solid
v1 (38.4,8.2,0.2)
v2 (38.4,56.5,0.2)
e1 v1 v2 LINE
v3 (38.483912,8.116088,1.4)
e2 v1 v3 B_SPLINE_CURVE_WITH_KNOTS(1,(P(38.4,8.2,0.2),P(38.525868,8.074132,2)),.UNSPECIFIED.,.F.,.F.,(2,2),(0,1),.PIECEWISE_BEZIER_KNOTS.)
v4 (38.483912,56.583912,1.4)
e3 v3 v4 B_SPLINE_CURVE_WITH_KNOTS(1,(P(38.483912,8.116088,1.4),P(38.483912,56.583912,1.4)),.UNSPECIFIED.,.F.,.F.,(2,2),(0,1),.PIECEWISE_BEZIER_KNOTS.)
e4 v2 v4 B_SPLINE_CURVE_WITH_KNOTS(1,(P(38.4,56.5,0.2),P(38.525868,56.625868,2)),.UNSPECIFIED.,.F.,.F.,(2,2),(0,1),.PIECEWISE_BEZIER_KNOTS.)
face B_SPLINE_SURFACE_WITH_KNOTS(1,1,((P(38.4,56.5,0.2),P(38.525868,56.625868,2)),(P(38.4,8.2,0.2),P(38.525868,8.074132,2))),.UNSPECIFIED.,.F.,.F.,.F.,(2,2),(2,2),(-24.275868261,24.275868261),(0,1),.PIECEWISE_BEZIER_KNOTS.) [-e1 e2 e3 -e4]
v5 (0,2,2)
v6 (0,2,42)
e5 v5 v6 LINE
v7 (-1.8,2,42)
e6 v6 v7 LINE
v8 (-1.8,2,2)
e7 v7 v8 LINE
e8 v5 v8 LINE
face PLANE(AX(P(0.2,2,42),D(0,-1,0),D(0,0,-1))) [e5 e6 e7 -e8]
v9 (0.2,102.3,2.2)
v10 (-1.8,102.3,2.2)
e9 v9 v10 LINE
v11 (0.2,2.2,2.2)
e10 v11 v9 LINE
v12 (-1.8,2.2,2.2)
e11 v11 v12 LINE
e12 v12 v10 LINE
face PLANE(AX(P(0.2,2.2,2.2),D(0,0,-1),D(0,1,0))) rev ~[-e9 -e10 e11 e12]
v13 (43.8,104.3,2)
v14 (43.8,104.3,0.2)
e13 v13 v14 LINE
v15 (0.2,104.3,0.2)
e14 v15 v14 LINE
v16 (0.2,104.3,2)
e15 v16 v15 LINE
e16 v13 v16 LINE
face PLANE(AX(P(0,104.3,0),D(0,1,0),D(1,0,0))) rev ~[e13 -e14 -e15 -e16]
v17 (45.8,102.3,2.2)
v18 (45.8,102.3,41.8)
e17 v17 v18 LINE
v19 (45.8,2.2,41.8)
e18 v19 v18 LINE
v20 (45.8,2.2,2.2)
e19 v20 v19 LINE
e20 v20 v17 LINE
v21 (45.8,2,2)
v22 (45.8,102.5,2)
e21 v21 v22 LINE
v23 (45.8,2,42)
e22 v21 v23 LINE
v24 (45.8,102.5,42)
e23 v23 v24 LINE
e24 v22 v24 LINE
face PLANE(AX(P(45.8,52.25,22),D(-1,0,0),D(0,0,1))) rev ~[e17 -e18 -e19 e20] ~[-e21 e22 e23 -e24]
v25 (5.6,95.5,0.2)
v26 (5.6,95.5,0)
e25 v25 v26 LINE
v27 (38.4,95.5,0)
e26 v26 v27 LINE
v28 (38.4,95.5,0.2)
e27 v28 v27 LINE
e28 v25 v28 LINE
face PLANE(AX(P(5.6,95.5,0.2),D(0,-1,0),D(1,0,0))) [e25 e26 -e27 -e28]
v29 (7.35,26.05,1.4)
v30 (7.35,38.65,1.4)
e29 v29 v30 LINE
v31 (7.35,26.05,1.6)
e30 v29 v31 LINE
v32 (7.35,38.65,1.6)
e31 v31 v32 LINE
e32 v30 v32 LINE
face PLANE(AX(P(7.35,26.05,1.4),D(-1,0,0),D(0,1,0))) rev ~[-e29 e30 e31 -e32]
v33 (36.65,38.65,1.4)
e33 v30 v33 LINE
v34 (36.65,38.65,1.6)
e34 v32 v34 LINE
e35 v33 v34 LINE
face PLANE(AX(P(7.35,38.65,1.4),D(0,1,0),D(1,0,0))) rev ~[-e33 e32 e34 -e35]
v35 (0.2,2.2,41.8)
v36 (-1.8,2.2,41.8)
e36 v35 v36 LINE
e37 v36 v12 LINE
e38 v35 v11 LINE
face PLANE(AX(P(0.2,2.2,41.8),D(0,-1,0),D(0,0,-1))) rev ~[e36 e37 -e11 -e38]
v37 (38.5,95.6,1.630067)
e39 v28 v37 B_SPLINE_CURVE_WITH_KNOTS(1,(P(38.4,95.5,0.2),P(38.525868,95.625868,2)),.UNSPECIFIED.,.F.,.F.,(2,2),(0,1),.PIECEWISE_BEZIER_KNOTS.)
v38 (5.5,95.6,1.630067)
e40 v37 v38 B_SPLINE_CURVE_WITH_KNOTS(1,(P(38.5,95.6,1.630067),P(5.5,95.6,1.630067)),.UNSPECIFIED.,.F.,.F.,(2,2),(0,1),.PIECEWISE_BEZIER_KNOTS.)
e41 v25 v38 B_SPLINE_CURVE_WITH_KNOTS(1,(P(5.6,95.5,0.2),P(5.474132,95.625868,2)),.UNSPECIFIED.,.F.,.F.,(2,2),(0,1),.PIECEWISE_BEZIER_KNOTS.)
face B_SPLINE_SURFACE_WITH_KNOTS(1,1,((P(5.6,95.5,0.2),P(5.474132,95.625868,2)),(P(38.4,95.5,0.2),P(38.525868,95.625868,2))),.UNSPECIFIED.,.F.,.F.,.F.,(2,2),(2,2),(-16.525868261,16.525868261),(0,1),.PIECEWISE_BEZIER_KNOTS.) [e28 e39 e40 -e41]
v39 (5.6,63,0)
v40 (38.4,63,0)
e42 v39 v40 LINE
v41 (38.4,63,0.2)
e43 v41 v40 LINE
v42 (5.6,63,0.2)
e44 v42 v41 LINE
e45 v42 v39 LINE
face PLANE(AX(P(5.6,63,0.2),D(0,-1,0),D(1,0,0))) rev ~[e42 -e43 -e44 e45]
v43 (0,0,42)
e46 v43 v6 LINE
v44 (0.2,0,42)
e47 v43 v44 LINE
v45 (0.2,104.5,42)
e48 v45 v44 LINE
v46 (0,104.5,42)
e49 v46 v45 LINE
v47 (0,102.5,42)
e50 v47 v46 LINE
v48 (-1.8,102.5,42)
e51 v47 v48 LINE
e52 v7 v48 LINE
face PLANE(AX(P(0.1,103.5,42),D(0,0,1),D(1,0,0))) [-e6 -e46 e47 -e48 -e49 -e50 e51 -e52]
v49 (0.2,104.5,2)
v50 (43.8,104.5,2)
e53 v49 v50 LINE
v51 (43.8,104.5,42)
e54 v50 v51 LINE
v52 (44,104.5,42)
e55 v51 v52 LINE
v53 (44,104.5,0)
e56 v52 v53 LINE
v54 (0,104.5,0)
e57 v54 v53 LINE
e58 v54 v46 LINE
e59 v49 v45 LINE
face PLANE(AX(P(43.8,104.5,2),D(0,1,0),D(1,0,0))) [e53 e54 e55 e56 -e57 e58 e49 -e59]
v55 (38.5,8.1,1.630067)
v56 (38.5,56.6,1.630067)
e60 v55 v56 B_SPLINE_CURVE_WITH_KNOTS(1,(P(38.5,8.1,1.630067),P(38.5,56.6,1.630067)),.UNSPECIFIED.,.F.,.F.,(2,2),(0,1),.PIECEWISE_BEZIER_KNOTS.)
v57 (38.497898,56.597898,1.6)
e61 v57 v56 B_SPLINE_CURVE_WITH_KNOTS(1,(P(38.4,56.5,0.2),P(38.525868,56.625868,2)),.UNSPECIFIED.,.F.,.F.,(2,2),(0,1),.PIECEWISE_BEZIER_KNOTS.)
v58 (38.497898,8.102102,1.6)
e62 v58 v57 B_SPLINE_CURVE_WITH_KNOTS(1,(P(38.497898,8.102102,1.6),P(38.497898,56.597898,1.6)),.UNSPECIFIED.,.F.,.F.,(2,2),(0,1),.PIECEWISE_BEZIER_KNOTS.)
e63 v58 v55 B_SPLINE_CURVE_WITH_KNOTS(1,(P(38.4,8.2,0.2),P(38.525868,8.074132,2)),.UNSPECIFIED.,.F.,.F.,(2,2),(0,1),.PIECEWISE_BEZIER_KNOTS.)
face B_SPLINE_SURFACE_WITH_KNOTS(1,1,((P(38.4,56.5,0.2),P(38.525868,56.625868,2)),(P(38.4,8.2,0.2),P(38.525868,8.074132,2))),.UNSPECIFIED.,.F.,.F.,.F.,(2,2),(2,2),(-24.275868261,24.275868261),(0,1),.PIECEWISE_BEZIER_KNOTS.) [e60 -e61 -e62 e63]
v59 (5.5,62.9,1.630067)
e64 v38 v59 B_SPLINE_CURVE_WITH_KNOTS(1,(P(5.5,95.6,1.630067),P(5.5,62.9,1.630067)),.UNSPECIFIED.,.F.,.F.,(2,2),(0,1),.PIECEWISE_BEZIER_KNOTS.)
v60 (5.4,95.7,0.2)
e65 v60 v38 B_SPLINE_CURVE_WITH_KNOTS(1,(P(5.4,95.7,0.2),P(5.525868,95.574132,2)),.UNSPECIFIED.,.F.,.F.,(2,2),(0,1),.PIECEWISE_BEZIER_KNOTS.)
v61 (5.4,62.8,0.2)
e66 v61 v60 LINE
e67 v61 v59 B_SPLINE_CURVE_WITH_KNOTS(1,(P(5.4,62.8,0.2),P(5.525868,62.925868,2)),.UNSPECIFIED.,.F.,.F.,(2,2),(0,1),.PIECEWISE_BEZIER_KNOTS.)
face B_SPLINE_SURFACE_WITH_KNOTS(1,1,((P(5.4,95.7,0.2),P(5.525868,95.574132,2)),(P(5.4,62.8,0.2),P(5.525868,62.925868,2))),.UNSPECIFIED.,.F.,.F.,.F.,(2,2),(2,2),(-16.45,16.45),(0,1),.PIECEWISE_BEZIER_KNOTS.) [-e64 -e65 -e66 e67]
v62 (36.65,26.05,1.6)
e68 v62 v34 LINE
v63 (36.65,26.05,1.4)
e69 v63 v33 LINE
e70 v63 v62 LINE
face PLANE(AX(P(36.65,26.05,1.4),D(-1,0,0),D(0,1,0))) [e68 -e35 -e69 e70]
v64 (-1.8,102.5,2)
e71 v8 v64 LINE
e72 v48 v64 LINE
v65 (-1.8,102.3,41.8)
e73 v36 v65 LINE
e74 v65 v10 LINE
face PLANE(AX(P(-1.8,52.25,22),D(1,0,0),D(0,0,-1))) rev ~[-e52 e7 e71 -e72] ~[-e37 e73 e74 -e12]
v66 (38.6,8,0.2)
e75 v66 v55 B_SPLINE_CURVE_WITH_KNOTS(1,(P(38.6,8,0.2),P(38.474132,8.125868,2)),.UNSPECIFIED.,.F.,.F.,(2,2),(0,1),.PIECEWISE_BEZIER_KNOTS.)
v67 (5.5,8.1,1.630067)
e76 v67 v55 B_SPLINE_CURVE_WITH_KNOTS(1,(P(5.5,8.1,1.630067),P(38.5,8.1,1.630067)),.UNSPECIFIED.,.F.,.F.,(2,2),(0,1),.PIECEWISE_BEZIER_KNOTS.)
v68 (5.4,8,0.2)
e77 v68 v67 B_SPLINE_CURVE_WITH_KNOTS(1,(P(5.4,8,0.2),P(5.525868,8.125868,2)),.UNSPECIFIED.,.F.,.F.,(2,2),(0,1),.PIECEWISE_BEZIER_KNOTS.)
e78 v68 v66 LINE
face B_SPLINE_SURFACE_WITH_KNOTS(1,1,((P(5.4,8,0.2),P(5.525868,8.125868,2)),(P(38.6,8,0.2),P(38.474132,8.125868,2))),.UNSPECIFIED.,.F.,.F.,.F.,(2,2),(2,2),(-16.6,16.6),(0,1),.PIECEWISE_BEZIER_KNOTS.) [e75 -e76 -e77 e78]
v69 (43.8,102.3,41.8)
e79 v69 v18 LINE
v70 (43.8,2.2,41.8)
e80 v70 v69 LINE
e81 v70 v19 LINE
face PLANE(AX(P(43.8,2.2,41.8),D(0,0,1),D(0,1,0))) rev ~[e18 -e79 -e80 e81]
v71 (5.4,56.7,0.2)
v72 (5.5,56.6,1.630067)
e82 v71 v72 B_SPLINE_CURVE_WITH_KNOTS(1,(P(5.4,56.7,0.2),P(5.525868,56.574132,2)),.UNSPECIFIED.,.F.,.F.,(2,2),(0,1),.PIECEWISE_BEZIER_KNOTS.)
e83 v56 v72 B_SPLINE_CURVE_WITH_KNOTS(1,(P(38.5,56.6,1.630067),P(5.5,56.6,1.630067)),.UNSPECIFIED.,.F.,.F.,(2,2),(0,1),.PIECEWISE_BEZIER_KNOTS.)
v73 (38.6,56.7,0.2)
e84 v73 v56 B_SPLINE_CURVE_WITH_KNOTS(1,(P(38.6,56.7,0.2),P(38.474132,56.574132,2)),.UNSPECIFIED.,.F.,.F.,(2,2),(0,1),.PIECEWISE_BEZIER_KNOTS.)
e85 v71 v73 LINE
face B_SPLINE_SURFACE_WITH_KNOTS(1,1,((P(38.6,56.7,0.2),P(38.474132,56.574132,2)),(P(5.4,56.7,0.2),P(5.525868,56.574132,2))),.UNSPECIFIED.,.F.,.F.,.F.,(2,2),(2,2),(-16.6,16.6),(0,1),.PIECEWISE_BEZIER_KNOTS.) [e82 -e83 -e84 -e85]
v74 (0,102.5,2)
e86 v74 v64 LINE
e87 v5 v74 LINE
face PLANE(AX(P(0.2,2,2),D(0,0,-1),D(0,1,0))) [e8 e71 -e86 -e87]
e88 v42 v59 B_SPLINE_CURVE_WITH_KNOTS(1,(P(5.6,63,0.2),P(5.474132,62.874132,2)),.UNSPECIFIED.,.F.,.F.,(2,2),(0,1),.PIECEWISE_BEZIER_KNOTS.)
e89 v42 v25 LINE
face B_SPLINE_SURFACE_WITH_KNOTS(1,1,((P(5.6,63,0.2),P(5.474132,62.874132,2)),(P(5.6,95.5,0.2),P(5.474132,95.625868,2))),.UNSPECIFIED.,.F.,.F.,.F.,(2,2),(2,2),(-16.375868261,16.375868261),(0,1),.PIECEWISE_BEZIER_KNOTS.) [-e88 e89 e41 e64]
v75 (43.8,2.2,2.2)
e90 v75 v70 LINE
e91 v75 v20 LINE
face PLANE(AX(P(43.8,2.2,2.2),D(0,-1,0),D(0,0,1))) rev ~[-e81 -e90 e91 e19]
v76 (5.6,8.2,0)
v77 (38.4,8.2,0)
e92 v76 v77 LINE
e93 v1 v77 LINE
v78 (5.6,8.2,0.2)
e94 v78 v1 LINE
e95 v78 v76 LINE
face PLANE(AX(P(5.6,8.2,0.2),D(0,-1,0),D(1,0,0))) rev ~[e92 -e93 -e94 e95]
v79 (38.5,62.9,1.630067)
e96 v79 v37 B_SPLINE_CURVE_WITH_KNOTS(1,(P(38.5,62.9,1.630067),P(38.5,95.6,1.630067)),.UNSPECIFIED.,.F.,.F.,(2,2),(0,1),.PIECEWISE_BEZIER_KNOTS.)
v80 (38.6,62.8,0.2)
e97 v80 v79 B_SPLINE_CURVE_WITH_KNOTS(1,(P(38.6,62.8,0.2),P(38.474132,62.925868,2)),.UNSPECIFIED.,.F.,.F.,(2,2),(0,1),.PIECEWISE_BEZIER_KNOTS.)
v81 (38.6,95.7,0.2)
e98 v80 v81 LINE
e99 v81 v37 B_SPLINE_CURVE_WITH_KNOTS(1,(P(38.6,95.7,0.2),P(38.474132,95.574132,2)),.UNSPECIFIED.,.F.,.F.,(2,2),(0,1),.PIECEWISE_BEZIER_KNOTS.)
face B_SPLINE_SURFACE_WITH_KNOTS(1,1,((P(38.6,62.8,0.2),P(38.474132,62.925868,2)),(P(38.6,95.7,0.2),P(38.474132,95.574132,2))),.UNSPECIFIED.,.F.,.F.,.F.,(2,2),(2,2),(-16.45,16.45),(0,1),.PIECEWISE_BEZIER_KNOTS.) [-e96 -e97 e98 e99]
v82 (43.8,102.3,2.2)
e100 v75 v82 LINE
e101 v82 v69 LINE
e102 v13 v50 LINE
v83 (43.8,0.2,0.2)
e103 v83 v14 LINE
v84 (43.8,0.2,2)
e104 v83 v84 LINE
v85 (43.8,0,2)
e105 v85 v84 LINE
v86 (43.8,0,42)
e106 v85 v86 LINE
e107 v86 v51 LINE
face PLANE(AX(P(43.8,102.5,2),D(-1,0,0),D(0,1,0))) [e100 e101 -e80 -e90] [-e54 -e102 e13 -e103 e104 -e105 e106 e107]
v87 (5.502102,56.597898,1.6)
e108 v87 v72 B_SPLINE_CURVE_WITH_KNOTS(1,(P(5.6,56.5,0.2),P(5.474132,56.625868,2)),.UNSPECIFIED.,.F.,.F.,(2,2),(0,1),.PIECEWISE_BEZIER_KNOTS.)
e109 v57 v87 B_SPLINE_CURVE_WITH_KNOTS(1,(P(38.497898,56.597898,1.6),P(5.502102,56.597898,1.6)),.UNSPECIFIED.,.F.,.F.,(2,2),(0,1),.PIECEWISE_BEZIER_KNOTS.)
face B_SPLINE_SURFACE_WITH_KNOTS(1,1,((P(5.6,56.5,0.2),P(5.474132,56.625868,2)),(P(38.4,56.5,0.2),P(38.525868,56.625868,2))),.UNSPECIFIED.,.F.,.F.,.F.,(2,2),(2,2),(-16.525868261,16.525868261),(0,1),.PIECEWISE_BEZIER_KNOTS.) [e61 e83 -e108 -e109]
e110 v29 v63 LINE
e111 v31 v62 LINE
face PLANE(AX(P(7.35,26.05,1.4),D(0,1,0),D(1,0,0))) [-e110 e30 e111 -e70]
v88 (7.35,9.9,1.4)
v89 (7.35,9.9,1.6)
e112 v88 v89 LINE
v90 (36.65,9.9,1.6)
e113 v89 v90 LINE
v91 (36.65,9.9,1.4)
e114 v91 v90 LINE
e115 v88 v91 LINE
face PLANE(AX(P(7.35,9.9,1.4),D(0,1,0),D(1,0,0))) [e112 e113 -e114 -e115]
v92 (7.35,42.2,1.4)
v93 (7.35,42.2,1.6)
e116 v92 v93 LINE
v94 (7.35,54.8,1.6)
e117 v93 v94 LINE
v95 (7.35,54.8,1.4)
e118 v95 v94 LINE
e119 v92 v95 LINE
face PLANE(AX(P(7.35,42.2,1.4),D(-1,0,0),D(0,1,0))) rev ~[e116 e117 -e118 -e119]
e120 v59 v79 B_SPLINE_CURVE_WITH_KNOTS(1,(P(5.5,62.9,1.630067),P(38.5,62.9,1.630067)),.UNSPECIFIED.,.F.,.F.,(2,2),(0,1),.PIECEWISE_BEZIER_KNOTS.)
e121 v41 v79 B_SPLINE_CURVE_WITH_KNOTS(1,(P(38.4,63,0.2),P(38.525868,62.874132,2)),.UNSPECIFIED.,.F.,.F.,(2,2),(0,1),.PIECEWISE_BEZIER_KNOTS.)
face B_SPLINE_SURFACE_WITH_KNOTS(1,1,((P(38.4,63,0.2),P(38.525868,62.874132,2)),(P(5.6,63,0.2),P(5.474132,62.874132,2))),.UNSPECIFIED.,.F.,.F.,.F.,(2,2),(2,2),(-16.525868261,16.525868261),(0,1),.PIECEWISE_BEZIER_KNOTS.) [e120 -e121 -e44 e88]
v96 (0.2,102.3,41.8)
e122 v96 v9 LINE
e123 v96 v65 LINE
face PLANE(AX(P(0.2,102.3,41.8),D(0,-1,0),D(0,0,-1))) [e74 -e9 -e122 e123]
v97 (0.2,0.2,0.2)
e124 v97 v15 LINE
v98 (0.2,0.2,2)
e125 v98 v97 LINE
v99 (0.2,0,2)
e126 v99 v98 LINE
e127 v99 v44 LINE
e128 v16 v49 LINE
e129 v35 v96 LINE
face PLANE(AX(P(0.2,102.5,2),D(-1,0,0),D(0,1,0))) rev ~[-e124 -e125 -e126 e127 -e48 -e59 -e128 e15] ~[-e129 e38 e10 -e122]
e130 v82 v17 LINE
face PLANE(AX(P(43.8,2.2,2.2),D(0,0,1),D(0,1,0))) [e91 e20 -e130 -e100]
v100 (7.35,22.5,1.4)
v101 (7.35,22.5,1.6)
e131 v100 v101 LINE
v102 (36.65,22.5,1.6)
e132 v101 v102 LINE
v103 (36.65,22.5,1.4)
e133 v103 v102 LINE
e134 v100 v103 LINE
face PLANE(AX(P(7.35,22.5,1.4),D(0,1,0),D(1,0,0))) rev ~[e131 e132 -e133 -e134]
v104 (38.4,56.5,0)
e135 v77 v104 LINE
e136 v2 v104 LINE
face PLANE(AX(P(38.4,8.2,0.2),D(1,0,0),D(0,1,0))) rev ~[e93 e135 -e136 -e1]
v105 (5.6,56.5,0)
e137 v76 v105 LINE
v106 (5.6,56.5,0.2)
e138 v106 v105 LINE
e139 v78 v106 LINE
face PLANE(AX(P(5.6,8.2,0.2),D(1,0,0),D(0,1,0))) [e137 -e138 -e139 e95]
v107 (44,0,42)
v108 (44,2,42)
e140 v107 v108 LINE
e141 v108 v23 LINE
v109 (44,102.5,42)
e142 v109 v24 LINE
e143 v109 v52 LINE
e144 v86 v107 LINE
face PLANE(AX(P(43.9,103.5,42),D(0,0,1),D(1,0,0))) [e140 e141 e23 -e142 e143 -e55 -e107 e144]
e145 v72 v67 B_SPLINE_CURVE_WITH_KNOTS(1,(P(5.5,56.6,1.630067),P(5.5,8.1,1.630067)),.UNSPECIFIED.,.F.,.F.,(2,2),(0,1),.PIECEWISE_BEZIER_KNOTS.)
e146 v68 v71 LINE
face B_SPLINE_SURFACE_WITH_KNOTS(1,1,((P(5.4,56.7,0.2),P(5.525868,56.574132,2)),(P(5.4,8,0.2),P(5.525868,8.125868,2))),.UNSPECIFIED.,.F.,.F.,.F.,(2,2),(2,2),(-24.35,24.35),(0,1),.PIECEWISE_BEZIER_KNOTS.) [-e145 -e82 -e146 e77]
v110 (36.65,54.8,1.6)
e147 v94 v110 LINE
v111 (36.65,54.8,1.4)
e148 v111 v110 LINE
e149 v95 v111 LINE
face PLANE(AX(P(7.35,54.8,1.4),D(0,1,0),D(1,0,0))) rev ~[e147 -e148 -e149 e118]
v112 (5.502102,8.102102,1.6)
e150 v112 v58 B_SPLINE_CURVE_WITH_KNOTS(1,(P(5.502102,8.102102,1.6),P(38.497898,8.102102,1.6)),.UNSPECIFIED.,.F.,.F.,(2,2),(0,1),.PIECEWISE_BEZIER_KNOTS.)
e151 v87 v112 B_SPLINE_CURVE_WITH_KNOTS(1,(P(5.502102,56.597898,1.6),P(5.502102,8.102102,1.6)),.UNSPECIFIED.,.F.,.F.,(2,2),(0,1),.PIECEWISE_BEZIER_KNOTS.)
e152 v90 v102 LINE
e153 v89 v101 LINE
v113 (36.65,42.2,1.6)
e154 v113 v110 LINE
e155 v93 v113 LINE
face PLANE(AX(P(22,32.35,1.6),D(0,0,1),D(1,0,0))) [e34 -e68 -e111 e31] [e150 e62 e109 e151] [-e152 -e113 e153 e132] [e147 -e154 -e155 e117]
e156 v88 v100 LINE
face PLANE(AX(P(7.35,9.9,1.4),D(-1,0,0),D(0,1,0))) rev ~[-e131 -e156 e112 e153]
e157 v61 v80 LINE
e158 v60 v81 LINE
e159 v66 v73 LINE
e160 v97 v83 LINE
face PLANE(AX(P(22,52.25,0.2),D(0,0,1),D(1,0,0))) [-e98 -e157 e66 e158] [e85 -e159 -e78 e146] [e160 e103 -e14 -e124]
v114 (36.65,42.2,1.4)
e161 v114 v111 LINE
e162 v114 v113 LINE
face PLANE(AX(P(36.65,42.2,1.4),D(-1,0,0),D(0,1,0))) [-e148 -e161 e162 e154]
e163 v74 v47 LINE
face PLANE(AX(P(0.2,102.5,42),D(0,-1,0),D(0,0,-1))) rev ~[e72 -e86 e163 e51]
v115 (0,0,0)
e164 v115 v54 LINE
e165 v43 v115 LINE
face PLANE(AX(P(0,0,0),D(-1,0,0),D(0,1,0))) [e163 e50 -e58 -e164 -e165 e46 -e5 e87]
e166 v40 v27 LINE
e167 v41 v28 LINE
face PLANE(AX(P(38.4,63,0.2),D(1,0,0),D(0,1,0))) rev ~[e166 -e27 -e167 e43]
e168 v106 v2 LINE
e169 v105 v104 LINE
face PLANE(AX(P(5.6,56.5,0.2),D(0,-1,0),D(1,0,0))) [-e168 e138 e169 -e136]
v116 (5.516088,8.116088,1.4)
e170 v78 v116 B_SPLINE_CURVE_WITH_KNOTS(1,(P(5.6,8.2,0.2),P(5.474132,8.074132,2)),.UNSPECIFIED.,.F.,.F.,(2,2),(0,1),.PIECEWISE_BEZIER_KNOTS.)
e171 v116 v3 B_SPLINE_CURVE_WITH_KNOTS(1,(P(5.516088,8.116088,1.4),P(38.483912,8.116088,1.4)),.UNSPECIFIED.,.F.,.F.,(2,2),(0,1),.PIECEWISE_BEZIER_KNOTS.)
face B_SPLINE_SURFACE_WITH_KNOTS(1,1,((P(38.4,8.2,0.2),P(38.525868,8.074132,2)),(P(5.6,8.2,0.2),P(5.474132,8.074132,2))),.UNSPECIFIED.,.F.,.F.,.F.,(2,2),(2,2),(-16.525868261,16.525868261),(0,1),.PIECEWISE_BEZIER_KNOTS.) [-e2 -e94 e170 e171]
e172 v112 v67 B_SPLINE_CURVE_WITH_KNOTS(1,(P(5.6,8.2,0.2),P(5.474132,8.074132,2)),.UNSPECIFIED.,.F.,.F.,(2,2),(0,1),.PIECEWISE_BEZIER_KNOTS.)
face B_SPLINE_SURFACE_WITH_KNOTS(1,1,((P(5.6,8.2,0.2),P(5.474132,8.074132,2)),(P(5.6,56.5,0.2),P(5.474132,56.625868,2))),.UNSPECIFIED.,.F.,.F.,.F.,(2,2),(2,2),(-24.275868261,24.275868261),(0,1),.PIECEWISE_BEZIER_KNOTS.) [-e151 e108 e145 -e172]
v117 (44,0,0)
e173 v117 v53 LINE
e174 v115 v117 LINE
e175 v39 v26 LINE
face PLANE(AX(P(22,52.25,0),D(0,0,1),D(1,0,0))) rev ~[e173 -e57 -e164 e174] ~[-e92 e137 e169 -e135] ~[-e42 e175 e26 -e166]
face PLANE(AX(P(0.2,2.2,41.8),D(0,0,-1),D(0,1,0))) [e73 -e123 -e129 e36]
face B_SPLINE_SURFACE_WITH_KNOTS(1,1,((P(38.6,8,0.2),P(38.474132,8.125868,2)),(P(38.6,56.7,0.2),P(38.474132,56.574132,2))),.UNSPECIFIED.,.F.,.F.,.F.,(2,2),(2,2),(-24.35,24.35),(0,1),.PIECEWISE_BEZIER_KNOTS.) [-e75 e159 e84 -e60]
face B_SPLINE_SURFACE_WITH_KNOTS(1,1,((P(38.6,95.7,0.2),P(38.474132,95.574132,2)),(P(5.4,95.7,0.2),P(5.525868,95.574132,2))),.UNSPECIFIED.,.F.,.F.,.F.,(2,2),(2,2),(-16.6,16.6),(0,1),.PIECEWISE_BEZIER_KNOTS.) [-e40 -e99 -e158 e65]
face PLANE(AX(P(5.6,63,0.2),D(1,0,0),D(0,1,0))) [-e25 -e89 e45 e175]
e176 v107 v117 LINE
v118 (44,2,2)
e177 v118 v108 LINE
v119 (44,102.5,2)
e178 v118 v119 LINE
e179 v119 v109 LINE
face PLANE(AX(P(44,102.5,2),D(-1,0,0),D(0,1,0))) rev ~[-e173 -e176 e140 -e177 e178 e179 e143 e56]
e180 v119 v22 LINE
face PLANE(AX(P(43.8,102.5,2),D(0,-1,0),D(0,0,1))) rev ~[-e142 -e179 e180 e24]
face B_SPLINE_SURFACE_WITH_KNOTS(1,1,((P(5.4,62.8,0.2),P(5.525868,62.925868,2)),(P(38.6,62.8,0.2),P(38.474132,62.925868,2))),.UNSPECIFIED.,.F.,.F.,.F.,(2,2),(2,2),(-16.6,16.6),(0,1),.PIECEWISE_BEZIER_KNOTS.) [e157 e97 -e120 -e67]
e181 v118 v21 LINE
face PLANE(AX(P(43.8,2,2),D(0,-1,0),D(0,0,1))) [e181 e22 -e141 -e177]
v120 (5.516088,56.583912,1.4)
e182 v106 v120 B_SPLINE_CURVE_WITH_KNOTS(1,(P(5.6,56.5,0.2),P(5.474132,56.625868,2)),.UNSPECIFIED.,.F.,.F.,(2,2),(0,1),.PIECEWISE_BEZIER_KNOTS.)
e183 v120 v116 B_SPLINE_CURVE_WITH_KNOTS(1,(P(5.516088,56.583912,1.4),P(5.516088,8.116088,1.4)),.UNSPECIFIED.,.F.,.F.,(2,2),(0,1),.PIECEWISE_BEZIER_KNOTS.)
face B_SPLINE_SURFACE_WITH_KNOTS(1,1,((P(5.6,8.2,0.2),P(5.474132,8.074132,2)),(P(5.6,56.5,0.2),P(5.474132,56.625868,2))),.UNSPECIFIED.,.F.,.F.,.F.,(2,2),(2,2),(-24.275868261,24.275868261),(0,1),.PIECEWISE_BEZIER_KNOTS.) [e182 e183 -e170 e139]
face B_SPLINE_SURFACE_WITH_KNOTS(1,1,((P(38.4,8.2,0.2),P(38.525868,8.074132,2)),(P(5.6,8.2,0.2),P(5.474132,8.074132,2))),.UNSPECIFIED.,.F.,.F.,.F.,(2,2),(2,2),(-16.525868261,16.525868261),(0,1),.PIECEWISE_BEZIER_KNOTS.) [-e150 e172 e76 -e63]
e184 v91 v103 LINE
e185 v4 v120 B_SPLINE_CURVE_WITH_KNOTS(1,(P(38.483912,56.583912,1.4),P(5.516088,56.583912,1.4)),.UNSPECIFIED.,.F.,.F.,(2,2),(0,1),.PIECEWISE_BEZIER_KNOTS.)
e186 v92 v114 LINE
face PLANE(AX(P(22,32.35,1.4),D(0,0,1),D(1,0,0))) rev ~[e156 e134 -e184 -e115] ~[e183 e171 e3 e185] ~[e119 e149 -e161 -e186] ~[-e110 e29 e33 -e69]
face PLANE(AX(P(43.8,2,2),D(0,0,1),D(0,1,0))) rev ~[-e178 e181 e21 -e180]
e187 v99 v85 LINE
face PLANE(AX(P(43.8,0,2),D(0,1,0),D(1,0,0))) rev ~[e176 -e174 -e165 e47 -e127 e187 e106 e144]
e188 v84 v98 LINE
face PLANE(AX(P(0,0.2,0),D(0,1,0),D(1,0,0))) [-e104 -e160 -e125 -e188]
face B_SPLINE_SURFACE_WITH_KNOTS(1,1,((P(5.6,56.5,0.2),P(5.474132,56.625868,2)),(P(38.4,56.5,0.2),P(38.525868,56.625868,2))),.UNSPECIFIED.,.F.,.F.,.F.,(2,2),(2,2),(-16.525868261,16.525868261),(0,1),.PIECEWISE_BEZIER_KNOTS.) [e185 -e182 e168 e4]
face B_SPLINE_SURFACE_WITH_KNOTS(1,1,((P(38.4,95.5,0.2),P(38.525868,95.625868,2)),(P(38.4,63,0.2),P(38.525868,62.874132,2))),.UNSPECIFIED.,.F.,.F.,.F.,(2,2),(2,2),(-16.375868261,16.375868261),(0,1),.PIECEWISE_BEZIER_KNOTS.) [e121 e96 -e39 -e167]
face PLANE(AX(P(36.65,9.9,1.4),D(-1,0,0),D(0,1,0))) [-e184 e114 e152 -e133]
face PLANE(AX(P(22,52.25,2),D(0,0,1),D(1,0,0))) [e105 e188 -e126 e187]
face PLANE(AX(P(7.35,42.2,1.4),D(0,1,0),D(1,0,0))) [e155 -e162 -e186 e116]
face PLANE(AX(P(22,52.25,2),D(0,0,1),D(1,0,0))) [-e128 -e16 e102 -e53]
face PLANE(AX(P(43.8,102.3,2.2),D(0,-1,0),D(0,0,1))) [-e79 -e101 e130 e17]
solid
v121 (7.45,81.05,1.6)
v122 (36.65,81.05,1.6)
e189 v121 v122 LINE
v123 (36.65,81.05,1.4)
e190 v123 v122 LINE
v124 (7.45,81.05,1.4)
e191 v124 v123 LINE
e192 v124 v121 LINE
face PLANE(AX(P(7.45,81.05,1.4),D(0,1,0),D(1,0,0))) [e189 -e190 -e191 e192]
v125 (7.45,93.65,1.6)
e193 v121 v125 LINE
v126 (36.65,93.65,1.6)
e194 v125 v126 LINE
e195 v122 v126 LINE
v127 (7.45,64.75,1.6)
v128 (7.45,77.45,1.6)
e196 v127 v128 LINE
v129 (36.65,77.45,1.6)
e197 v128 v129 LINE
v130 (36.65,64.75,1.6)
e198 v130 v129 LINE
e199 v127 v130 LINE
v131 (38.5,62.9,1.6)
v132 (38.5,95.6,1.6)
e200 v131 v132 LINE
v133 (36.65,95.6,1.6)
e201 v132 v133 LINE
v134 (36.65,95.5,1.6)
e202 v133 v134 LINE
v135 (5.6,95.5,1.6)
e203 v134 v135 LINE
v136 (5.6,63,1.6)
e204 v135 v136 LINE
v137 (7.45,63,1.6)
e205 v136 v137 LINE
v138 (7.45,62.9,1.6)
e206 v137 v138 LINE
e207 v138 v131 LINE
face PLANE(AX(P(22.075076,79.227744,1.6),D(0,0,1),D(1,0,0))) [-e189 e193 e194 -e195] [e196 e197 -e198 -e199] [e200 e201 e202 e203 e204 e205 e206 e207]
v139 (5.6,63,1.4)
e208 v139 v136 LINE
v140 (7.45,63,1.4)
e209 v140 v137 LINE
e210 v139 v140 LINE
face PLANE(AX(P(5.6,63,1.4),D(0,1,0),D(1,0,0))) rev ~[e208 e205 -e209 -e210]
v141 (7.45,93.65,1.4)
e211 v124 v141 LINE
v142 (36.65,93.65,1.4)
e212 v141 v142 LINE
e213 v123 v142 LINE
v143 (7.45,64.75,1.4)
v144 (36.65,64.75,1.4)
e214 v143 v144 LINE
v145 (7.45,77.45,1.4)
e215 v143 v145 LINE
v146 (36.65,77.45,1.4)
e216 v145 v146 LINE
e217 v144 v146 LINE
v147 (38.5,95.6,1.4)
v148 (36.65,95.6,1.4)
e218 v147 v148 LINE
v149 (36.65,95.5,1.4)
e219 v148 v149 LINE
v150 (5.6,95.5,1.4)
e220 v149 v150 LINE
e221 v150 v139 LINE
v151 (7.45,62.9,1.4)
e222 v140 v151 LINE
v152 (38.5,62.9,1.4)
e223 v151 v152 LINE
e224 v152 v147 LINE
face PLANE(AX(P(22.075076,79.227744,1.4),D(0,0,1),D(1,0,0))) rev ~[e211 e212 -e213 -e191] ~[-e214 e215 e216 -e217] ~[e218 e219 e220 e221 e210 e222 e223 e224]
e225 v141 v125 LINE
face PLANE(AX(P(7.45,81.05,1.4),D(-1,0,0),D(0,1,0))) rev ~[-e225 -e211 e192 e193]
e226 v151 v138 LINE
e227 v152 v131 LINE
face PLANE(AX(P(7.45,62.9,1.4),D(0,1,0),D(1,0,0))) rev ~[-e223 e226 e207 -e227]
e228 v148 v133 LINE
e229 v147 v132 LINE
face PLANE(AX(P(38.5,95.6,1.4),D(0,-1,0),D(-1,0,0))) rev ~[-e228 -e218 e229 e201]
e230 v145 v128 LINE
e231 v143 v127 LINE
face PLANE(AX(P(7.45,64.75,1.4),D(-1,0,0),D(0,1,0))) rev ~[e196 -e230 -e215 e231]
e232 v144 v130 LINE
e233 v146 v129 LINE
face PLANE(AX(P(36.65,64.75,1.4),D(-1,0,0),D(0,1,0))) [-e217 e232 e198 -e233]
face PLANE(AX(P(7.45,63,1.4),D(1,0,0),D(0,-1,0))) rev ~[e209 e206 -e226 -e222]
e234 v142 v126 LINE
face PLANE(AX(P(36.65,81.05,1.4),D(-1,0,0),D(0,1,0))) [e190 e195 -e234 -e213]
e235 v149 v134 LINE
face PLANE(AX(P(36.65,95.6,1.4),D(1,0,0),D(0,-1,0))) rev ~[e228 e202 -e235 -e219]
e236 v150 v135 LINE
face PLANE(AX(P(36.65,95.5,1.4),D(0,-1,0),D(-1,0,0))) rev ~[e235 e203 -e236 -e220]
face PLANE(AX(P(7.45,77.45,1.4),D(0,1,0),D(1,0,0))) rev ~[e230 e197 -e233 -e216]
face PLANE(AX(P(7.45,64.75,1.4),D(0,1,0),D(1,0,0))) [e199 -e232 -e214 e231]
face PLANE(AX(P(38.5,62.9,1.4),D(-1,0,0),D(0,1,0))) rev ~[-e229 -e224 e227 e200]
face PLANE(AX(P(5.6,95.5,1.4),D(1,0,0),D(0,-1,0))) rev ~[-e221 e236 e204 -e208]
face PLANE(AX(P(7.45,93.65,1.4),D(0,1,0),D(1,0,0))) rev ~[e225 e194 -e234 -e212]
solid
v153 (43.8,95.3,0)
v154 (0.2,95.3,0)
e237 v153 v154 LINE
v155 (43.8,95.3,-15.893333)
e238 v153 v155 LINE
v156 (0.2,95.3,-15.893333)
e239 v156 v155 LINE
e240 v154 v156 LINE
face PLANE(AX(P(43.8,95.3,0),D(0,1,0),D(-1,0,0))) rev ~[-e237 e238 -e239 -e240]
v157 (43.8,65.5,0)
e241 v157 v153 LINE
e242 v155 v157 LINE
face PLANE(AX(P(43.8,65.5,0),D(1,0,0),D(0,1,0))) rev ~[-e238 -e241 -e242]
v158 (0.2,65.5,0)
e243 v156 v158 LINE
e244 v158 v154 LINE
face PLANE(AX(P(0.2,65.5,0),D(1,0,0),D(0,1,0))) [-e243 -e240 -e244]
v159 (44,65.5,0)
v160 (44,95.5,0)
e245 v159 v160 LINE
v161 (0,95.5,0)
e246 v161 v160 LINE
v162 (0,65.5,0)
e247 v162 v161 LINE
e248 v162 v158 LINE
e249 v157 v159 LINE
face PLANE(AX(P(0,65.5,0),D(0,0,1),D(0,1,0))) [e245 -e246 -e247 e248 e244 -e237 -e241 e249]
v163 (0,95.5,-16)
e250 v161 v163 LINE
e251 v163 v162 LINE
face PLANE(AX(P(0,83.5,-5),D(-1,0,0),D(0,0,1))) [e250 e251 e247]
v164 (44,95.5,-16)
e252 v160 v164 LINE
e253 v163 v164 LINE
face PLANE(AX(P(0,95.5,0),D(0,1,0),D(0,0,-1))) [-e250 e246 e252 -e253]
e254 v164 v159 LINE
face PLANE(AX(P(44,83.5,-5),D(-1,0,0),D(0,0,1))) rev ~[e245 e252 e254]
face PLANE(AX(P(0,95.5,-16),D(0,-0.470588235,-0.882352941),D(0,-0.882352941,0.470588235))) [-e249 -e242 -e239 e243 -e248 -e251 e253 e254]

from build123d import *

# Parameters (mm, degrees)
SKETCH_1_W          = 44
SKETCH_1_H          = 104.5
EXTRUDE_1_DEPTH     = 2
SHELL_1_T           = -0.2
SKETCH_2_W          = 32.8
SKETCH_2_H          = 32.5
SKETCH_2_H_2        = 48.3
CUT_EXTRUDE_1_DEPTH = 2
SKETCH_3_W          = 33.2
SKETCH_3_H          = 32.9
SKETCH_3_W_2        = 32.8
SKETCH_3_H_2        = 32.5
SKETCH_3_H_3        = 48.7
SKETCH_3_H_4        = 48.3
EXTRUDE_2_DEPTH     = 1.8
EXTRUDE_2_TAPER     = 4
SKETCH_6_W          = 29.2
SKETCH_6_H          = 12.7
SKETCH_6_H_2        = 12.6
EXTRUDE_3_DEPTH     = 0.2
SKETCH_7_W          = 33
SKETCH_7_H          = 48.5
SKETCH_7_W_2        = 29.3
SKETCH_7_H_2        = 12.6
EXTRUDE_4_DEPTH     = 0.2
EXTRUDE_6_DEPTH     = 44
SKETCH_12_W         = 43.6
SKETCH_12_H         = 29.8
CUT_EXTRUDE_5_DEPTH = 16
SKETCH_13_W         = 40
SKETCH_13_H         = 100.5
SKETCH_13_W_2       = 39.6
SKETCH_13_H_2       = 100.1
EXTRUDE_7_DEPTH     = 2
SKETCH_15_W         = 40
SKETCH_15_H         = 100.5
SKETCH_15_W_2       = 39.6
SKETCH_15_H_2       = 100.1
EXTRUDE_8_DEPTH     = 2
SKETCH_16_W         = 0.2
SKETCH_16_H         = 2
EXTRUDE_9_DEPTH     = 40


with BuildPart() as part:
    # 스케치1 → 보스-돌출1 (new body)
    with BuildSketch(Plane.XY):
        with Locations((22, 52.25)):
            Rectangle(SKETCH_1_W, SKETCH_1_H)
    extrude(amount=EXTRUDE_1_DEPTH)

    # 쉘1
    shell_1_openings = [part.faces().sort_by_distance(p)[0] for p in [
        (22, 52.25, 2),
    ]]
    offset(amount=SHELL_1_T, openings=shell_1_openings, kind=Kind.INTERSECTION)

    # 스케치2 → 컷-돌출1 (cut)
    with BuildSketch(Plane.XY.offset(0.2)):
        with Locations((22, 79.25)):
            Rectangle(SKETCH_2_W, SKETCH_2_H)
        with Locations((22, 32.35)):
            Rectangle(SKETCH_2_W, SKETCH_2_H_2)
    extrude(amount=-CUT_EXTRUDE_1_DEPTH, mode=Mode.SUBTRACT)

    # 스케치3 → 보스-돌출2 (add)
    # profile 1 of 2: a face of its own
    with BuildSketch(Plane.XY.offset(0.2)):
        with Locations((22, 79.25)):
            Rectangle(SKETCH_3_W, SKETCH_3_H)
        with Locations((22, 79.25)):
            Rectangle(SKETCH_3_W_2, SKETCH_3_H_2, mode=Mode.SUBTRACT)
    # profile 2 of 2: a face of its own
    with BuildSketch(Plane.XY.offset(0.2)):
        with Locations((22, 32.35)):
            Rectangle(SKETCH_3_W, SKETCH_3_H_3)
        with Locations((22, 32.35)):
            Rectangle(SKETCH_3_W_2, SKETCH_3_H_4, mode=Mode.SUBTRACT)
    extrude(amount=EXTRUDE_2_DEPTH, taper=EXTRUDE_2_TAPER)

    # 스케치7 → 보스-돌출4 (add)
    with BuildSketch(Plane.XY.offset(1.4)):
        with Locations((22, 32.35)):
            Rectangle(SKETCH_7_W, SKETCH_7_H)
        with Locations((22, 16.2)):
            Rectangle(SKETCH_7_W_2, SKETCH_7_H_2, mode=Mode.SUBTRACT)
        with Locations((22, 32.35)):
            Rectangle(SKETCH_7_W_2, SKETCH_7_H_2, mode=Mode.SUBTRACT)
        with Locations((22, 48.5)):
            Rectangle(SKETCH_7_W_2, SKETCH_7_H_2, mode=Mode.SUBTRACT)
    extrude(amount=EXTRUDE_4_DEPTH)

    # 스케치13 → 보스-돌출7 (add)
    with BuildSketch(Plane.ZY.offset(-43.8)):
        with Locations((22, 52.25)):
            Rectangle(SKETCH_13_W, SKETCH_13_H)
        with Locations((22, 52.25)):
            Rectangle(SKETCH_13_W_2, SKETCH_13_H_2, mode=Mode.SUBTRACT)
    extrude(amount=-EXTRUDE_7_DEPTH)

    # 스케치15 → 보스-돌출8 (add)
    with BuildSketch(Plane(origin=(0.2, 0, 0), x_dir=(0, 0, -1), z_dir=(1, 0, 0))):
        with Locations((-22, 52.25)):
            Rectangle(SKETCH_15_W, SKETCH_15_H)
        with Locations((-22, 52.25)):
            Rectangle(SKETCH_15_W_2, SKETCH_15_H_2, mode=Mode.SUBTRACT)
    extrude(amount=-EXTRUDE_8_DEPTH)

    # 스케치16 → 보스-돌출9 (add)
    with BuildSketch(Plane.XY.offset(2)):
        with Locations((43.9, 103.5)):
            Rectangle(SKETCH_16_W, SKETCH_16_H)
        with Locations((43.9, 1)):
            Rectangle(SKETCH_16_W, SKETCH_16_H)
        with Locations((0.1, 1)):
            Rectangle(SKETCH_16_W, SKETCH_16_H)
        with Locations((0.1, 103.5)):
            Rectangle(SKETCH_16_W, SKETCH_16_H)
    extrude(amount=EXTRUDE_9_DEPTH)


with BuildPart() as body_2:
    # 스케치6 → 보스-돌출3 (new body)
    with BuildSketch(Plane.XY.offset(1.4)):
        Polygon((5.6, 95.5), (5.6, 63), (7.45, 63), (7.45, 62.9), (38.5, 62.9), (38.5, 95.6), (36.65, 95.6), (36.65, 95.5), align=None)
        with Locations((22.05, 71.1)):
            Rectangle(SKETCH_6_W, SKETCH_6_H, mode=Mode.SUBTRACT)
        with Locations((22.05, 87.35)):
            Rectangle(SKETCH_6_W, SKETCH_6_H_2, mode=Mode.SUBTRACT)
    extrude(amount=EXTRUDE_3_DEPTH)


with BuildPart() as body_3:
    # 스케치11 → 보스-돌출6 (new body)
    with BuildSketch(Plane.ZY):
        Polygon((0, 95.5), (-16, 95.5), (0, 65.5), align=None)
    extrude(amount=-EXTRUDE_6_DEPTH)

    # 스케치12 → 컷-돌출5 (cut)
    with BuildSketch(Plane(origin=(0, 0, 0), x_dir=(-1, 0, 0), z_dir=(0, 0, -1))):
        with Locations((-22, 80.4)):
            Rectangle(SKETCH_12_W, SKETCH_12_H)
    extrude(amount=CUT_EXTRUDE_5_DEPTH, mode=Mode.SUBTRACT)


solid = Compound([part.part, body_2.part, body_3.part])
